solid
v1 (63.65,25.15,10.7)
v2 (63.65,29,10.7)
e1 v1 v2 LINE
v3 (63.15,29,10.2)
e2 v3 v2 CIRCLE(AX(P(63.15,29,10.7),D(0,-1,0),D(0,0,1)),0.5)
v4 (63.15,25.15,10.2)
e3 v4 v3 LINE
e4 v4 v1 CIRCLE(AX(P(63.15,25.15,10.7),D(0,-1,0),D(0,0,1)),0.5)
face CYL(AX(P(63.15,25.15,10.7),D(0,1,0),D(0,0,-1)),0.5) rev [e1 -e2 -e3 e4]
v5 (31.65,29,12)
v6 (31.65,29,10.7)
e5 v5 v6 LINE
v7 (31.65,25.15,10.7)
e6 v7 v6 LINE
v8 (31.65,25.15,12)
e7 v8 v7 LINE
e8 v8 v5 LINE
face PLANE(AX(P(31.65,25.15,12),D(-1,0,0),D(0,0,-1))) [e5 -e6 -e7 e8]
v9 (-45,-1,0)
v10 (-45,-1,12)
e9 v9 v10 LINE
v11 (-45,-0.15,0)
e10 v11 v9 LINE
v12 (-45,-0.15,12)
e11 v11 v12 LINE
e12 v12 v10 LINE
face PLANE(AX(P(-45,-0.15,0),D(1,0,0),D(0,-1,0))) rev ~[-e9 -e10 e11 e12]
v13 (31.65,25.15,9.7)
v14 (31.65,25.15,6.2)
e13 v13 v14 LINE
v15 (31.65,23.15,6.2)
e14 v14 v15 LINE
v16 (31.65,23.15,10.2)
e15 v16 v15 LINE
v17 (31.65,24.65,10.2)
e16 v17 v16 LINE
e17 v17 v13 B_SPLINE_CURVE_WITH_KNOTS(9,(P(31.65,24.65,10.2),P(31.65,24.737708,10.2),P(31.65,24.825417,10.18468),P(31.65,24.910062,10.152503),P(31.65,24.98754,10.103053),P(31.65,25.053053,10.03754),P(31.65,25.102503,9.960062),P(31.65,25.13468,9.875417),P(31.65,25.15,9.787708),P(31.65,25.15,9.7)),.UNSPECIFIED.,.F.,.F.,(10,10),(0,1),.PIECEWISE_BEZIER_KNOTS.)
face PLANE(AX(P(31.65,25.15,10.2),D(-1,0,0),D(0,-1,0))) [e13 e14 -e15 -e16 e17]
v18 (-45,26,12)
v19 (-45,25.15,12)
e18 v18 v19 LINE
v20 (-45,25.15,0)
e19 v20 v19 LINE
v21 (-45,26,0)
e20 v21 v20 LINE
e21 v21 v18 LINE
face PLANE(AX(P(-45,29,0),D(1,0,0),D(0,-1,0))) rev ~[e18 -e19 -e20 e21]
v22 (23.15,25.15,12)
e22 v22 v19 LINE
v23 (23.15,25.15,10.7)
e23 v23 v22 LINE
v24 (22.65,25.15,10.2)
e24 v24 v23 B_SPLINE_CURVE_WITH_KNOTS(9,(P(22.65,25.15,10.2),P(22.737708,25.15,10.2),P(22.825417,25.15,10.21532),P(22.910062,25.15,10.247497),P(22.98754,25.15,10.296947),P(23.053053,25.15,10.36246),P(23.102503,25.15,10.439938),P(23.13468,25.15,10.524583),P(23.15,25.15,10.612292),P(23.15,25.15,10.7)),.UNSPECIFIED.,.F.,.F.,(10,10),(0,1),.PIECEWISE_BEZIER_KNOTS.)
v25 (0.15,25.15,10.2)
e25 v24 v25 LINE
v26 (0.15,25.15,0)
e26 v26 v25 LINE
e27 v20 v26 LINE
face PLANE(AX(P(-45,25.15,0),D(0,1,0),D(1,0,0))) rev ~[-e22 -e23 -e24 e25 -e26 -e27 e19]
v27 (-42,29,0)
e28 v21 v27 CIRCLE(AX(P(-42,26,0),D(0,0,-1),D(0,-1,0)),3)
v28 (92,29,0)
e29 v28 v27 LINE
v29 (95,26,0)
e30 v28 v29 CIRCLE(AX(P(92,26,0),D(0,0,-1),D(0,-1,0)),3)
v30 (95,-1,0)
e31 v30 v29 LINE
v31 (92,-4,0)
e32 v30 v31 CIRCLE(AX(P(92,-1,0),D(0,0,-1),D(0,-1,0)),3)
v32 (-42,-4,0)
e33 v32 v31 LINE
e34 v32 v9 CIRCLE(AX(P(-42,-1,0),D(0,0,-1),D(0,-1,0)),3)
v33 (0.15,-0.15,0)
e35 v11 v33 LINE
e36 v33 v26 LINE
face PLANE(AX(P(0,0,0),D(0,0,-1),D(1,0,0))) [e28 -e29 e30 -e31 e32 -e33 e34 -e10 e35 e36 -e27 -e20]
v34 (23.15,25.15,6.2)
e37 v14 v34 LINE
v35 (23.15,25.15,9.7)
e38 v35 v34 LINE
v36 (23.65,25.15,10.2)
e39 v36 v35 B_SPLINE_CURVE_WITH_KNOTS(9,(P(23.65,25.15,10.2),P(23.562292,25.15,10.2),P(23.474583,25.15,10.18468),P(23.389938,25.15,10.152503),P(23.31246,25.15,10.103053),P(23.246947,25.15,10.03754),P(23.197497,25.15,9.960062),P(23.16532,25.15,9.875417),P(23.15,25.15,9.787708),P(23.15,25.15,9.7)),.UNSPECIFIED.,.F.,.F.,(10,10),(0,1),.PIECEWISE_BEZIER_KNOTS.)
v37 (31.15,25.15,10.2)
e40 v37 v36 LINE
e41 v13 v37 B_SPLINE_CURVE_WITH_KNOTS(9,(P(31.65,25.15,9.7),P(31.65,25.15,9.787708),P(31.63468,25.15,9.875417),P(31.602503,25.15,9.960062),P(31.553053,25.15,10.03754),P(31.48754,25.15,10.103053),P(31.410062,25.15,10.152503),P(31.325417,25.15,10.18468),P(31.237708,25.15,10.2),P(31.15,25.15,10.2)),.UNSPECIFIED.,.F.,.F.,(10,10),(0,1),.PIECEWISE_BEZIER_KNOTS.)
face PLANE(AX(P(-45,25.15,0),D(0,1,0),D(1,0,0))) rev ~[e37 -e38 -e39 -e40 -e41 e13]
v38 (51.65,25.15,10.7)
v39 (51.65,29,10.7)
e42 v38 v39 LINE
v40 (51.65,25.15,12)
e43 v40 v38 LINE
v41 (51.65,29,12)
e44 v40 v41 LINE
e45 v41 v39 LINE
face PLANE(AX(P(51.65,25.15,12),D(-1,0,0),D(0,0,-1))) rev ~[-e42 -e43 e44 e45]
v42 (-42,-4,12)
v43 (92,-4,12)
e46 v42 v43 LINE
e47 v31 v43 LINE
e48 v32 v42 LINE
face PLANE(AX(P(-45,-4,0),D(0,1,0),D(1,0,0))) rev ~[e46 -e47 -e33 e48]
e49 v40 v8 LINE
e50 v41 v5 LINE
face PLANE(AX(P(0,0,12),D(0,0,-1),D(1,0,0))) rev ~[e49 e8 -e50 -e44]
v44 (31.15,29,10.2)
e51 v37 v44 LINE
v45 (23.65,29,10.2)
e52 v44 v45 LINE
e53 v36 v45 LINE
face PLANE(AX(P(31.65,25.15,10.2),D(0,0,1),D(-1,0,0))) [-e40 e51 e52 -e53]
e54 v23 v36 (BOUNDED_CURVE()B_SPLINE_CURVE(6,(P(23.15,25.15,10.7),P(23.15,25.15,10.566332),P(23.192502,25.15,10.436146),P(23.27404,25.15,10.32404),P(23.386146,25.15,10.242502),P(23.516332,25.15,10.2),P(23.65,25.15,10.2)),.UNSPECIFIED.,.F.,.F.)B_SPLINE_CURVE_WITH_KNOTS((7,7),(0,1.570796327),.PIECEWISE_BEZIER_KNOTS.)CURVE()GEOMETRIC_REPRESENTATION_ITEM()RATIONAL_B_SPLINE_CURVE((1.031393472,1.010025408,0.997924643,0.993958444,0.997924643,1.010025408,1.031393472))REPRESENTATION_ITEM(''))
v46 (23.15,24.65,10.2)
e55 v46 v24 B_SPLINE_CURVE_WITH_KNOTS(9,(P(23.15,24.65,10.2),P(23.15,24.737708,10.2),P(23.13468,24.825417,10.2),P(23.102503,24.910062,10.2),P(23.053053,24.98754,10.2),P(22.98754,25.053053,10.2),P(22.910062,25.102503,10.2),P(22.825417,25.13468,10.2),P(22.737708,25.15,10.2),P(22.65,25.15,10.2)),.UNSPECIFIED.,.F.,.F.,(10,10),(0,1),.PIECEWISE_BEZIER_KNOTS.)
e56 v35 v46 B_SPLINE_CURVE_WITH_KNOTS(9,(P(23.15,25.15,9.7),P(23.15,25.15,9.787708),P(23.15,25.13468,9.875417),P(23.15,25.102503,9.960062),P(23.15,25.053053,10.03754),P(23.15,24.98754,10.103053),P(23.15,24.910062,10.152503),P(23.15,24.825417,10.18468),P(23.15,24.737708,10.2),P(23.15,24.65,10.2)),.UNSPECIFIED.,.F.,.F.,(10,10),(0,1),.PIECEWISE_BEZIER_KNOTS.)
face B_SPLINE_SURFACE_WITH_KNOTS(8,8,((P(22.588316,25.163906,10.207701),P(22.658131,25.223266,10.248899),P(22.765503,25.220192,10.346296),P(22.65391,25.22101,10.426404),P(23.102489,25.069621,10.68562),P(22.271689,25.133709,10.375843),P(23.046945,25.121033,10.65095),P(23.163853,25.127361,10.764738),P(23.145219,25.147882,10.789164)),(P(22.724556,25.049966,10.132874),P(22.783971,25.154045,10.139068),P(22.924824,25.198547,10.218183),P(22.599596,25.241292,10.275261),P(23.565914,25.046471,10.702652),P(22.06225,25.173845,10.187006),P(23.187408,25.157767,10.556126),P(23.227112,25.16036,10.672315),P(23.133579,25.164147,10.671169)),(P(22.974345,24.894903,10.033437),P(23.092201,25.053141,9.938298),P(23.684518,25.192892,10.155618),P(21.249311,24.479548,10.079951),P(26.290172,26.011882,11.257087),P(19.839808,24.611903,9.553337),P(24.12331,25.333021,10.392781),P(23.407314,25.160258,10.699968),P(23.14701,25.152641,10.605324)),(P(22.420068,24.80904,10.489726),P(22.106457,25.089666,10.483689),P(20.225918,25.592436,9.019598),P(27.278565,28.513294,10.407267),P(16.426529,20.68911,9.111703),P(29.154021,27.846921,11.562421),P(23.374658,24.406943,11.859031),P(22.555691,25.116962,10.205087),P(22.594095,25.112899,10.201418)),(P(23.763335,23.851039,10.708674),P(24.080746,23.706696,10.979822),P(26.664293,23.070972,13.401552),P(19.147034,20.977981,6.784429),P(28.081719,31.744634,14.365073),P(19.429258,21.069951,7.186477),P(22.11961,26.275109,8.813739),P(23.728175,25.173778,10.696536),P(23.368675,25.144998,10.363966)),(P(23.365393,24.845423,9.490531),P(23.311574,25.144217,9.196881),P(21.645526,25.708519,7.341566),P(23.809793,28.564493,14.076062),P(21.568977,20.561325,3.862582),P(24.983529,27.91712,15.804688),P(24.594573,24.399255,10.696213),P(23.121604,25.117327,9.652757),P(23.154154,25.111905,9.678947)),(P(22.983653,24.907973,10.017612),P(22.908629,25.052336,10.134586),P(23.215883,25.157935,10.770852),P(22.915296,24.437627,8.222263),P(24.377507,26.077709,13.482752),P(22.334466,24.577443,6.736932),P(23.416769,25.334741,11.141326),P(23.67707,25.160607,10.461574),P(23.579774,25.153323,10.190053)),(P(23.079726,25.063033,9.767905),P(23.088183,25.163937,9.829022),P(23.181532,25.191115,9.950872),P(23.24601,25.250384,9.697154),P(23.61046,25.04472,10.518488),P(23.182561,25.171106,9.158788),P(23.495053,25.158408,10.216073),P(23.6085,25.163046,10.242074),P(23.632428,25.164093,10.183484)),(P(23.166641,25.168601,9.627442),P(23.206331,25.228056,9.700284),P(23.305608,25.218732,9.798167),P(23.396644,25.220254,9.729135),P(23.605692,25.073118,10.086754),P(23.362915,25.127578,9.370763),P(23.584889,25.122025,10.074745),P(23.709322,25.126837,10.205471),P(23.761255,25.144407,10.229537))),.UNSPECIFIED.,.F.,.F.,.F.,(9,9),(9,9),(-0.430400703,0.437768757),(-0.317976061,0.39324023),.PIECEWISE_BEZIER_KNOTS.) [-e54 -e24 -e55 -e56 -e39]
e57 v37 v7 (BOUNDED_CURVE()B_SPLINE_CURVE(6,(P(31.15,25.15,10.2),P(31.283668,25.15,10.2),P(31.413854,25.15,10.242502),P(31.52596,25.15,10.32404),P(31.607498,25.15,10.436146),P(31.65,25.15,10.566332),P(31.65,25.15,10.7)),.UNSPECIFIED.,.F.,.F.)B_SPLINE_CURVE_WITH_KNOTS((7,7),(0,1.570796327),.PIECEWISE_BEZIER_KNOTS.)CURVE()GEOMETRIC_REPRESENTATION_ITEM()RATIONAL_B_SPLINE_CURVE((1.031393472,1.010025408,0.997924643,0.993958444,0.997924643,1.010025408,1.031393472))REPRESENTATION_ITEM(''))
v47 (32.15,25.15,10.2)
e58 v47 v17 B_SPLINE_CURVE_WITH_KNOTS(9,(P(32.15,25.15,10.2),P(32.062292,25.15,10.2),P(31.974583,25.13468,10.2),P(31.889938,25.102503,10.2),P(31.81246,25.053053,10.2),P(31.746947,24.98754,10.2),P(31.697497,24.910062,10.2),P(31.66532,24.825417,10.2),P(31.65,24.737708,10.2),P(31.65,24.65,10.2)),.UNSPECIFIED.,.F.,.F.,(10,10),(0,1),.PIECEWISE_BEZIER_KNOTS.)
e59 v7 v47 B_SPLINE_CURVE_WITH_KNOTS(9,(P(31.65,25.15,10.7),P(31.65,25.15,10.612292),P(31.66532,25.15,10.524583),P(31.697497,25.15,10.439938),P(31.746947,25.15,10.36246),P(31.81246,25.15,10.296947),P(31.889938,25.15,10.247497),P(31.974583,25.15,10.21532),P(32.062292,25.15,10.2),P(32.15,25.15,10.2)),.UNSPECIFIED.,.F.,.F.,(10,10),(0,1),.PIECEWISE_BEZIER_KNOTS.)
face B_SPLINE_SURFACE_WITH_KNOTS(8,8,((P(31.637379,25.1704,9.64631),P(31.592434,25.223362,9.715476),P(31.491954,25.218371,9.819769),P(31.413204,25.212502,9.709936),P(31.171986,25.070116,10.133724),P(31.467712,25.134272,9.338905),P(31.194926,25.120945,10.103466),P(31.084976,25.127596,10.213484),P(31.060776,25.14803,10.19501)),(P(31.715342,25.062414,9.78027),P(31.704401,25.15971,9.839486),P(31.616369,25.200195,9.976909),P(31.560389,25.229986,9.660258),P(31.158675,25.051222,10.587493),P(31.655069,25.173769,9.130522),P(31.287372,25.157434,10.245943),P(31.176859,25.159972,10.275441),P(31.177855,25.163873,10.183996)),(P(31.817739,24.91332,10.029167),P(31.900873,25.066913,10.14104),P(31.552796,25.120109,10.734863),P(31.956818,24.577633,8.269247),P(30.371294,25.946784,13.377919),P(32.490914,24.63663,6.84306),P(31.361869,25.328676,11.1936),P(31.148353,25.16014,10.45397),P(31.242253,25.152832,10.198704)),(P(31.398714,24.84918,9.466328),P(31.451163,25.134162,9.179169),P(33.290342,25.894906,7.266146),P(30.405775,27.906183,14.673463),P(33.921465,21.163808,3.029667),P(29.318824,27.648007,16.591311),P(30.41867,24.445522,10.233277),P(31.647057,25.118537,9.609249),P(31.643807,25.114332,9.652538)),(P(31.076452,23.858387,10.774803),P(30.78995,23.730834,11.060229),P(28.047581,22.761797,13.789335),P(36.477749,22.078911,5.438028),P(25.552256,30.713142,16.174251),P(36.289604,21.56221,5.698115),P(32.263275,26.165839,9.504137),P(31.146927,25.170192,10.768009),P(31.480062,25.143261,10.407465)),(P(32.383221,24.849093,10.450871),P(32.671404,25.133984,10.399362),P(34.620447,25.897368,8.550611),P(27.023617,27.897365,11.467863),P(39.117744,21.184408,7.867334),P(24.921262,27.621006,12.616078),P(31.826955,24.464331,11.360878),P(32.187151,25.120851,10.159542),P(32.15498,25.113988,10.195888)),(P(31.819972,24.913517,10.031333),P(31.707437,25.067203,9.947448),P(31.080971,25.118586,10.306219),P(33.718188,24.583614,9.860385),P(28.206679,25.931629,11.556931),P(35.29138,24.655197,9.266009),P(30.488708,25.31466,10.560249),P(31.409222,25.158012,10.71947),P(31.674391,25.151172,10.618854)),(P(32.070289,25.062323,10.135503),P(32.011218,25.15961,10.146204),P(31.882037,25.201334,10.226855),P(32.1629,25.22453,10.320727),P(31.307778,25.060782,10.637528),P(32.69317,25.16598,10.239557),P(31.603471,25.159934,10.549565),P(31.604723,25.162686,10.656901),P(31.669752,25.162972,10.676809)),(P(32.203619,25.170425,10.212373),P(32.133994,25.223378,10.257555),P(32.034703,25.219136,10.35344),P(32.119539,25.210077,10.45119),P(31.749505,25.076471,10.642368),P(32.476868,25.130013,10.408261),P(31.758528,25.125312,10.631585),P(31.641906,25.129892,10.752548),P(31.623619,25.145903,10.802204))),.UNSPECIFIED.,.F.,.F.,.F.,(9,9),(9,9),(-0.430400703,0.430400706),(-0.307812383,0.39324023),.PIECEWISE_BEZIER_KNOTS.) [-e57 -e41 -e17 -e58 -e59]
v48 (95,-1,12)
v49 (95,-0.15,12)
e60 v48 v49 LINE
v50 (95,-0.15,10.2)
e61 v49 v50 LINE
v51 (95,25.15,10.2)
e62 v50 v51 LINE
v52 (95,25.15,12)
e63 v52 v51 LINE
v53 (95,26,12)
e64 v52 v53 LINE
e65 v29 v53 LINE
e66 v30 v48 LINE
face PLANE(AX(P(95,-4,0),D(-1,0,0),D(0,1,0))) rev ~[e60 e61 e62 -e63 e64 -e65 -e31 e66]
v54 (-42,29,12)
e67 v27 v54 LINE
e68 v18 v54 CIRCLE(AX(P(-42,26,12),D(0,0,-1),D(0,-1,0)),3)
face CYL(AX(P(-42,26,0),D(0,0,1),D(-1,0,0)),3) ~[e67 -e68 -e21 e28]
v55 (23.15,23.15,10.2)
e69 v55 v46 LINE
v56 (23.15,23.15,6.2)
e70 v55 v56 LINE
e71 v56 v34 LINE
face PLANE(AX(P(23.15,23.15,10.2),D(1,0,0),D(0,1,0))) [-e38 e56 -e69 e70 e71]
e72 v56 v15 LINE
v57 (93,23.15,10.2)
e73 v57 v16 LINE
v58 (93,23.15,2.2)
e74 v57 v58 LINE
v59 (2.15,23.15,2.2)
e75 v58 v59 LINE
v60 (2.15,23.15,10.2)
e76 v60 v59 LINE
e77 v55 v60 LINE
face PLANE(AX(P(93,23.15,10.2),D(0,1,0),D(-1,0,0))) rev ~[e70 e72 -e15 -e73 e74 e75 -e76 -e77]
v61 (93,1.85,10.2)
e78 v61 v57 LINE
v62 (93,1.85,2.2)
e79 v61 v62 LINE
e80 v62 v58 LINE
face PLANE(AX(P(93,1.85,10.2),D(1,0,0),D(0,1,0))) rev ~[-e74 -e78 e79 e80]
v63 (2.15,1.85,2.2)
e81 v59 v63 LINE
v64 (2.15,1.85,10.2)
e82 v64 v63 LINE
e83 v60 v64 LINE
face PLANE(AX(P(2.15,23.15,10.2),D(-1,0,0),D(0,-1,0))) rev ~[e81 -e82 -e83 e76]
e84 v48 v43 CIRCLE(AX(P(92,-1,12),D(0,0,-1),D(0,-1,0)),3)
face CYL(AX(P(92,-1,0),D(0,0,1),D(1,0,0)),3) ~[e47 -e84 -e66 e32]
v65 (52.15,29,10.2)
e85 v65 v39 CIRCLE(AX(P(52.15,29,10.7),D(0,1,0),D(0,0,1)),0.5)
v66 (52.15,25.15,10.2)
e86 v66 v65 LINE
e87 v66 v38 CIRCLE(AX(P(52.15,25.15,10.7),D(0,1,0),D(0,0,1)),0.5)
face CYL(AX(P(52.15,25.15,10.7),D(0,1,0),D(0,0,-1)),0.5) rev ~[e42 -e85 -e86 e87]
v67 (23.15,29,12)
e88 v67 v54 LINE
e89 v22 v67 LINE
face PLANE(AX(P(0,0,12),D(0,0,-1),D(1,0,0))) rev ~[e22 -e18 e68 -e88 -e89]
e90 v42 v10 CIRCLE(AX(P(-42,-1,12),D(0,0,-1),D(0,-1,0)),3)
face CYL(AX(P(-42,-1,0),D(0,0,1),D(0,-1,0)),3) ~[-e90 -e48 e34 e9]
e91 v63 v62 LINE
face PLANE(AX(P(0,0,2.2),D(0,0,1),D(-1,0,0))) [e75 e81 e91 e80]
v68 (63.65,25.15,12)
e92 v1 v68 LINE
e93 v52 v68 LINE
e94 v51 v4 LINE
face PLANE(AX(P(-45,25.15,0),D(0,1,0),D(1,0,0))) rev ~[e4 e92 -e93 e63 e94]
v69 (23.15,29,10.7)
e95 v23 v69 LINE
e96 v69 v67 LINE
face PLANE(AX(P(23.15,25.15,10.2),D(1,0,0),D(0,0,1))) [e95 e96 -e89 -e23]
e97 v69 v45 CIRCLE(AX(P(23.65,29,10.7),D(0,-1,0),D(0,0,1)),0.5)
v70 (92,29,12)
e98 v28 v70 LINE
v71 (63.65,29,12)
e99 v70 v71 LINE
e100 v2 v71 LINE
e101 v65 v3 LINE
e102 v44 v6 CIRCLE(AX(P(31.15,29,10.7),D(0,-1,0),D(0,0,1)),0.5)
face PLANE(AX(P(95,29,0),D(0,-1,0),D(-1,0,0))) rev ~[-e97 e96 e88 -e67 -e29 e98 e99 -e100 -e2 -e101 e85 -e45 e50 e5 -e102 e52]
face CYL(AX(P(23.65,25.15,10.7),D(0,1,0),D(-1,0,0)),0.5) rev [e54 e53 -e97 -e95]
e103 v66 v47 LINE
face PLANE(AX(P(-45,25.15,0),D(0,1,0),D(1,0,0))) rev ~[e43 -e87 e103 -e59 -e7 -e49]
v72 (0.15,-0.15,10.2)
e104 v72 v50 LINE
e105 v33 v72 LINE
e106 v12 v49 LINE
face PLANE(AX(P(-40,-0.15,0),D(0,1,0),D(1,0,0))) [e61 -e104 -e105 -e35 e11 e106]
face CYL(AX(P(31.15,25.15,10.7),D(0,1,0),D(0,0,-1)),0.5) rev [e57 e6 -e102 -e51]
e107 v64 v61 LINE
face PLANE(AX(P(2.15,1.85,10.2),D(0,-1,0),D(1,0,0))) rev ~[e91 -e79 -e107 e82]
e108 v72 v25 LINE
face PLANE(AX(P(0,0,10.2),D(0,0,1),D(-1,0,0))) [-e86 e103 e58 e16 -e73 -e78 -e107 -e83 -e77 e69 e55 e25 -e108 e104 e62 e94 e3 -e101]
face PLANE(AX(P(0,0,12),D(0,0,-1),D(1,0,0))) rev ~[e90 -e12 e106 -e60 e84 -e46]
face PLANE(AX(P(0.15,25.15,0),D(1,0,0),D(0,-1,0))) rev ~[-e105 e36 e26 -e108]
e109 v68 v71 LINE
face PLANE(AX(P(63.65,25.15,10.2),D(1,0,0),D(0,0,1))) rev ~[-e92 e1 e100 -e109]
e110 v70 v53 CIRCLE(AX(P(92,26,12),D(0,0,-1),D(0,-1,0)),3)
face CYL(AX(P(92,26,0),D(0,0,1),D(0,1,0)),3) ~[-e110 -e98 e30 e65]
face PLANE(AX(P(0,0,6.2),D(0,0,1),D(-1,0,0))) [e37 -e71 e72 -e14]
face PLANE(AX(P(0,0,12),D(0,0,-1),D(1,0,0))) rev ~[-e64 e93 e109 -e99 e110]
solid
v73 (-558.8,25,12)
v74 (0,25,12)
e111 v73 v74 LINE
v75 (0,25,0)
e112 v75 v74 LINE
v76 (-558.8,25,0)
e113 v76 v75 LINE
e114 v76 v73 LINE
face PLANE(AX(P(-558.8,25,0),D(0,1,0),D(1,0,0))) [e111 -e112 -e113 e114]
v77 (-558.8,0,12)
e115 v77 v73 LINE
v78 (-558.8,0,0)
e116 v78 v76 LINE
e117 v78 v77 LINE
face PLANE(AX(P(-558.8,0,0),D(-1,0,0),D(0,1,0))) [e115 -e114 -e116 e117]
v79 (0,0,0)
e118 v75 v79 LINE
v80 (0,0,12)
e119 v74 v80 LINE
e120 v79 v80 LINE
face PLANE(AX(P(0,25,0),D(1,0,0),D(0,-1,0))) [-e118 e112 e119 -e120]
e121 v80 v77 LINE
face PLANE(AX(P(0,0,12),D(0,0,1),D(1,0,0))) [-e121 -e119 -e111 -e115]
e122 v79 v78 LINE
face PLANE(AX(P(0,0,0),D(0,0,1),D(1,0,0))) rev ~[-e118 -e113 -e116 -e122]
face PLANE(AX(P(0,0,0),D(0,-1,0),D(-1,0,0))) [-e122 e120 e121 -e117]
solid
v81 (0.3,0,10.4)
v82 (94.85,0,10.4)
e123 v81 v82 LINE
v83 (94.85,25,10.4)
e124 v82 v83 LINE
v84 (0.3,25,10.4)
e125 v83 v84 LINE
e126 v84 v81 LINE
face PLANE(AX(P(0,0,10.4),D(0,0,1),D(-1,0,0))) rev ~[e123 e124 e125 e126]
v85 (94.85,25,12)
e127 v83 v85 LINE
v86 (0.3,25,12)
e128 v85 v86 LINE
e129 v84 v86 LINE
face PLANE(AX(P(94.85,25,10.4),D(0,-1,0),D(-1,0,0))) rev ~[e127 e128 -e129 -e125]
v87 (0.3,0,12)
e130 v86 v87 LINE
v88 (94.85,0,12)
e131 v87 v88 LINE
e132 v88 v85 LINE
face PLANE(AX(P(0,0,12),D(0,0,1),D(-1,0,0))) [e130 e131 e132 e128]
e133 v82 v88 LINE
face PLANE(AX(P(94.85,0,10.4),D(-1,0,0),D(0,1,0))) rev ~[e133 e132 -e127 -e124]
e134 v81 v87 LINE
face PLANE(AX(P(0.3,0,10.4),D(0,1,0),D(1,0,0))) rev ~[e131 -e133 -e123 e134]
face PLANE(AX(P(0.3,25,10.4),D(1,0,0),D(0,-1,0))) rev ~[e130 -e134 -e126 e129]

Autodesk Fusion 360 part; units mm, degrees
sketch "Sketch1" plane through (0, 0, 0) normal (0, 0, 1) x (1, 0, 0)
  line L0 (0, 0) -> (-558.8, 0)
  line L1 (-558.8, 0) -> (-558.8, 25)
  line L2 (-558.8, 25) -> (0, 25)
  line L3 (0, 25) -> (0, 0)
  dimension "d1" = 25
  dimension "d2" = 558.8
extrude "Extrude1" add sketch "Sketch1" along normal blind 12 makes body 1
sketch "Sketch2" plane through (0, 0, 0) normal (0, 0, -1) x (1, 0, 0)
  line L0 (-558.8, -25) -> (0, -25)
  line L1 (0, -25) -> (0, 0)
  line L2 (0, 0) -> (-558.8, 0)
  line L3 (-558.8, 0) -> (-558.8, -25)
  line L4 (-45, 0) -> (-45, -25)
  line L5 (-45, -25) -> (0, -25)
  line L6 (0, -25) -> (0, 0)
  line L7 (-45, 0) -> (-45, 4)
  line L8 (-45, 4) -> (95, 4)
  line L9 (95, 4) -> (95, -29)
  line L10 (95, -29) -> (-45, -29)
  line L11 (-45, -29) -> (-45, -25)
  line L12 (-45, 0) -> (0, 0)
  line L13 (-45, 0.15) -> (0.15, 0.15)
  line L14 (0.15, -25.15) -> (0.15, 0.15)
  line L15 (-45, -25.15) -> (0.15, -25.15)
  line L16 (0.15, -20) -> (-90.15, -20)
  line L17 (-90.15, -20) -> (-90.15, -5)
  line L18 (-90.15, -5) -> (0.15, -5)
  line L19 (0.15, -5) -> (0.15, -20)
  line L20 (0.15, -20) -> (-90.15, -5) construction
  line L21 (-90.15, -20) -> (0.15, -5) construction
  line L22 (-40, -25.15) -> (-40, 0.15)
  point P0 (-45, -12.5)
  dimension "d5" = 45
  dimension "d6" = 4
  dimension "d8" = -0.15
  dimension "d9" = 140
  dimension "d12" = 5
  dimension "d38" = 5
extrude "Extrude19" add sketch "Sketch2" against normal blind 12 separate body contours L7 L8 L9 L10 L11 L13 L14 L15 L19 makes body 2
sketch "Sketch10" plane through (0, 0, 12) normal (0, 0, 1) x (-1, 0, 0)
  line L0 (-0.15, 0.15) -> (45, 0.15)
  line L1 (45, 0.15) -> (45, 4)
  line L2 (45, 4) -> (-95, 4)
  line L3 (-95, 4) -> (-95, -29)
  line L4 (-95, -29) -> (45, -29)
  line L5 (45, -29) -> (45, -25.15)
  line L6 (45, -25.15) -> (-0.15, -25.15)
  line L7 (-0.15, -25.15) -> (-0.15, 0.15)
  line L8 (-0.15, 0.15) -> (-95, 0.15)
  line L9 (-95, 0.15) -> (-95, -25.15)
  line L10 (-95, -25.15) -> (-0.15, -25.15)
  line L11 (-0.15, -25.15) -> (-0.15, 0.15)
extrude "Extrude20" cut sketch "Sketch10" against normal blind 1.8 contours L3 L7 L8 L9 L10 L11 bodies 2
sketch "Sketch12" plane through (0, 0, 10.2) normal (0, 0, 1) x (-1, 0, 0)
  line L0 (-0.15, -25.15) -> (-0.15, 0.15)
  line L1 (-0.15, 0.15) -> (-95, 0.15)
  line L2 (-95, 0.15) -> (-95, -25.15)
  line L3 (-95, -25.15) -> (-0.15, -25.15)
  line L4 (-0.3, 0) -> (-94.85, 0)
  line L5 (-94.85, 0) -> (-94.85, -25)
  line L6 (-94.85, -25) -> (-0.3, -25)
  line L7 (-0.3, -25) -> (-0.3, 0)
  dimension "d98" = -0.15
extrude "Extrude22" add sketch "Sketch12" along normal blind 1.6 from surface at 0.2 separate body contours L4 L5 L6 L7 makes body 3
sketch "Sketch11" plane through (0, 0, 10.2) normal (0, 0, 1) x (-1, 0, 0)
  line L0 (-0.15, -25.15) -> (-0.15, 0.15)
  line L1 (-0.15, 0.15) -> (-95, 0.15)
  line L2 (-95, 0.15) -> (-95, -25.15)
  line L3 (-95, -25.15) -> (-0.15, -25.15)
  line L4 (-47.575, -25.15) -> (-47.575, 0.15) construction
  line L5 (-95, -12.5) -> (-47.575, -12.5) construction
  line L6 (-93, -23.15) -> (-2.15, -23.15)
  line L7 (-2.15, -23.15) -> (-2.15, -1.85)
  line L8 (-2.15, -1.85) -> (-93, -1.85)
  line L9 (-93, -1.85) -> (-93, -23.15)
  line L10 (-93, -23.15) -> (-2.15, -1.85) construction
  line L11 (-2.15, -23.15) -> (-93, -1.85) construction
  point P0 (-47.575, -12.5)
  dimension "d93" = 2
  dimension "d94" = 2
extrude "Extrude21" cut sketch "Sketch11" against normal blind 8 contours L6 L7 L8 L9 bodies 2
sketch "Sketch13" plane through (0, 0, 12) normal (0, 0, 1) x (-1, 0, 0)
  line L0 (-0.3, -25) -> (-0.3, 0)
  line L1 (-0.3, 0) -> (-94.85, 0)
  line L2 (-94.85, 0) -> (-94.85, -25)
  line L3 (-94.85, -25) -> (-0.3, -25)
sketch "Sketch15" plane through (0, 0, 10.2) normal (0, 0, 1) x (-1, 0, 0)
  line L0 (-2.15, -23.15) -> (-93, -23.15)
  line L1 (-93, -23.15) -> (-93, -1.85)
  line L2 (-93, -1.85) -> (-2.15, -1.85)
  line L3 (-2.15, -1.85) -> (-2.15, -23.15)
  line L4 (-0.15, -25.15) -> (-0.15, 0.15)
  line L5 (-0.15, 0.15) -> (-95, 0.15)
  line L6 (-95, 0.15) -> (-95, -25.15)
  line L7 (-95, -25.15) -> (-0.15, -25.15)
  line L8 (-0.15, -25.15) -> (-23.15, -25.15)
  line L9 (-23.15, -25.15) -> (-31.65, -25.15)
  line L10 (-23.15, -25.15) -> (-31.65, -25.15)
  line L11 (-31.65, -25.15) -> (-31.65, -23.15)
  line L12 (-31.65, -23.15) -> (-23.15, -23.15)
  line L13 (-23.15, -23.15) -> (-23.15, -25.15)
  line L14 (-31.65, -25.15) -> (-51.65, -25.15)
  line L15 (-51.65, -25.15) -> (-63.65, -25.15)
  dimension "d102" = 23
  dimension "d103" = 8.5
  dimension "d106" = 20
  dimension "d107" = 12
extrude "Extrude23" cut sketch "Sketch15" against normal blind 4 contours L0 L7 L9 L10 L11 L12 L13 bodies 2
sketch "Sketch16" plane through (0, 25.15, 0) normal (0, -1, 0) x (1, 0, 0)
  line L0 (-45, 0) -> (0.15, 0)
  line L1 (0.15, 0) -> (0.15, 10.2)
  line L2 (0.15, 10.2) -> (23.15, 10.2)
  line L3 (23.15, 10.2) -> (23.15, 6.2)
  line L4 (23.15, 6.2) -> (31.65, 6.2)
  line L5 (31.65, 6.2) -> (31.65, 10.2)
  line L6 (31.65, 10.2) -> (95, 10.2)
  line L7 (95, 10.2) -> (95, 12)
  line L8 (95, 12) -> (-45, 12)
  line L9 (-45, 12) -> (-45, 0)
  line L10 (31.65, 10.2) -> (51.65, 10.2)
  line L11 (51.65, 10.2) -> (63.65, 10.2)
  line L12 (51.65, 10.2) -> (63.65, 10.2)
  line L13 (63.65, 10.2) -> (63.65, 12)
  line L14 (63.65, 12) -> (51.65, 12)
  line L15 (51.65, 12) -> (51.65, 10.2)
  line L16 (31.65, 10.2) -> (23.15, 10.2)
  line L17 (23.15, 10.2) -> (23.15, 12)
  line L18 (23.15, 12) -> (31.65, 12)
  line L19 (31.65, 12) -> (31.65, 10.2)
  dimension "d108" = 20
  dimension "d109" = 12
extrude "Extrude24" cut sketch "Sketch16" against normal blind 17.39 contours L8 L16 L17 L18 L19 | L6 L8 L11 L12 L13 L14 L15 bodies 2
fillet "Fillet1" radius 3 4 edges at (-45, -4, 6) (95, -4, 6) (95, 29, 6) (-45, 29, 6) on bodies 2
fillet "Fillet2" radius 0.5 4 edges at (31.65, 27.075, 10.2) (63.65, 27.075, 10.2) (23.15, 27.075, 10.2) (51.65, 27.075, 10.2) on bodies 2
